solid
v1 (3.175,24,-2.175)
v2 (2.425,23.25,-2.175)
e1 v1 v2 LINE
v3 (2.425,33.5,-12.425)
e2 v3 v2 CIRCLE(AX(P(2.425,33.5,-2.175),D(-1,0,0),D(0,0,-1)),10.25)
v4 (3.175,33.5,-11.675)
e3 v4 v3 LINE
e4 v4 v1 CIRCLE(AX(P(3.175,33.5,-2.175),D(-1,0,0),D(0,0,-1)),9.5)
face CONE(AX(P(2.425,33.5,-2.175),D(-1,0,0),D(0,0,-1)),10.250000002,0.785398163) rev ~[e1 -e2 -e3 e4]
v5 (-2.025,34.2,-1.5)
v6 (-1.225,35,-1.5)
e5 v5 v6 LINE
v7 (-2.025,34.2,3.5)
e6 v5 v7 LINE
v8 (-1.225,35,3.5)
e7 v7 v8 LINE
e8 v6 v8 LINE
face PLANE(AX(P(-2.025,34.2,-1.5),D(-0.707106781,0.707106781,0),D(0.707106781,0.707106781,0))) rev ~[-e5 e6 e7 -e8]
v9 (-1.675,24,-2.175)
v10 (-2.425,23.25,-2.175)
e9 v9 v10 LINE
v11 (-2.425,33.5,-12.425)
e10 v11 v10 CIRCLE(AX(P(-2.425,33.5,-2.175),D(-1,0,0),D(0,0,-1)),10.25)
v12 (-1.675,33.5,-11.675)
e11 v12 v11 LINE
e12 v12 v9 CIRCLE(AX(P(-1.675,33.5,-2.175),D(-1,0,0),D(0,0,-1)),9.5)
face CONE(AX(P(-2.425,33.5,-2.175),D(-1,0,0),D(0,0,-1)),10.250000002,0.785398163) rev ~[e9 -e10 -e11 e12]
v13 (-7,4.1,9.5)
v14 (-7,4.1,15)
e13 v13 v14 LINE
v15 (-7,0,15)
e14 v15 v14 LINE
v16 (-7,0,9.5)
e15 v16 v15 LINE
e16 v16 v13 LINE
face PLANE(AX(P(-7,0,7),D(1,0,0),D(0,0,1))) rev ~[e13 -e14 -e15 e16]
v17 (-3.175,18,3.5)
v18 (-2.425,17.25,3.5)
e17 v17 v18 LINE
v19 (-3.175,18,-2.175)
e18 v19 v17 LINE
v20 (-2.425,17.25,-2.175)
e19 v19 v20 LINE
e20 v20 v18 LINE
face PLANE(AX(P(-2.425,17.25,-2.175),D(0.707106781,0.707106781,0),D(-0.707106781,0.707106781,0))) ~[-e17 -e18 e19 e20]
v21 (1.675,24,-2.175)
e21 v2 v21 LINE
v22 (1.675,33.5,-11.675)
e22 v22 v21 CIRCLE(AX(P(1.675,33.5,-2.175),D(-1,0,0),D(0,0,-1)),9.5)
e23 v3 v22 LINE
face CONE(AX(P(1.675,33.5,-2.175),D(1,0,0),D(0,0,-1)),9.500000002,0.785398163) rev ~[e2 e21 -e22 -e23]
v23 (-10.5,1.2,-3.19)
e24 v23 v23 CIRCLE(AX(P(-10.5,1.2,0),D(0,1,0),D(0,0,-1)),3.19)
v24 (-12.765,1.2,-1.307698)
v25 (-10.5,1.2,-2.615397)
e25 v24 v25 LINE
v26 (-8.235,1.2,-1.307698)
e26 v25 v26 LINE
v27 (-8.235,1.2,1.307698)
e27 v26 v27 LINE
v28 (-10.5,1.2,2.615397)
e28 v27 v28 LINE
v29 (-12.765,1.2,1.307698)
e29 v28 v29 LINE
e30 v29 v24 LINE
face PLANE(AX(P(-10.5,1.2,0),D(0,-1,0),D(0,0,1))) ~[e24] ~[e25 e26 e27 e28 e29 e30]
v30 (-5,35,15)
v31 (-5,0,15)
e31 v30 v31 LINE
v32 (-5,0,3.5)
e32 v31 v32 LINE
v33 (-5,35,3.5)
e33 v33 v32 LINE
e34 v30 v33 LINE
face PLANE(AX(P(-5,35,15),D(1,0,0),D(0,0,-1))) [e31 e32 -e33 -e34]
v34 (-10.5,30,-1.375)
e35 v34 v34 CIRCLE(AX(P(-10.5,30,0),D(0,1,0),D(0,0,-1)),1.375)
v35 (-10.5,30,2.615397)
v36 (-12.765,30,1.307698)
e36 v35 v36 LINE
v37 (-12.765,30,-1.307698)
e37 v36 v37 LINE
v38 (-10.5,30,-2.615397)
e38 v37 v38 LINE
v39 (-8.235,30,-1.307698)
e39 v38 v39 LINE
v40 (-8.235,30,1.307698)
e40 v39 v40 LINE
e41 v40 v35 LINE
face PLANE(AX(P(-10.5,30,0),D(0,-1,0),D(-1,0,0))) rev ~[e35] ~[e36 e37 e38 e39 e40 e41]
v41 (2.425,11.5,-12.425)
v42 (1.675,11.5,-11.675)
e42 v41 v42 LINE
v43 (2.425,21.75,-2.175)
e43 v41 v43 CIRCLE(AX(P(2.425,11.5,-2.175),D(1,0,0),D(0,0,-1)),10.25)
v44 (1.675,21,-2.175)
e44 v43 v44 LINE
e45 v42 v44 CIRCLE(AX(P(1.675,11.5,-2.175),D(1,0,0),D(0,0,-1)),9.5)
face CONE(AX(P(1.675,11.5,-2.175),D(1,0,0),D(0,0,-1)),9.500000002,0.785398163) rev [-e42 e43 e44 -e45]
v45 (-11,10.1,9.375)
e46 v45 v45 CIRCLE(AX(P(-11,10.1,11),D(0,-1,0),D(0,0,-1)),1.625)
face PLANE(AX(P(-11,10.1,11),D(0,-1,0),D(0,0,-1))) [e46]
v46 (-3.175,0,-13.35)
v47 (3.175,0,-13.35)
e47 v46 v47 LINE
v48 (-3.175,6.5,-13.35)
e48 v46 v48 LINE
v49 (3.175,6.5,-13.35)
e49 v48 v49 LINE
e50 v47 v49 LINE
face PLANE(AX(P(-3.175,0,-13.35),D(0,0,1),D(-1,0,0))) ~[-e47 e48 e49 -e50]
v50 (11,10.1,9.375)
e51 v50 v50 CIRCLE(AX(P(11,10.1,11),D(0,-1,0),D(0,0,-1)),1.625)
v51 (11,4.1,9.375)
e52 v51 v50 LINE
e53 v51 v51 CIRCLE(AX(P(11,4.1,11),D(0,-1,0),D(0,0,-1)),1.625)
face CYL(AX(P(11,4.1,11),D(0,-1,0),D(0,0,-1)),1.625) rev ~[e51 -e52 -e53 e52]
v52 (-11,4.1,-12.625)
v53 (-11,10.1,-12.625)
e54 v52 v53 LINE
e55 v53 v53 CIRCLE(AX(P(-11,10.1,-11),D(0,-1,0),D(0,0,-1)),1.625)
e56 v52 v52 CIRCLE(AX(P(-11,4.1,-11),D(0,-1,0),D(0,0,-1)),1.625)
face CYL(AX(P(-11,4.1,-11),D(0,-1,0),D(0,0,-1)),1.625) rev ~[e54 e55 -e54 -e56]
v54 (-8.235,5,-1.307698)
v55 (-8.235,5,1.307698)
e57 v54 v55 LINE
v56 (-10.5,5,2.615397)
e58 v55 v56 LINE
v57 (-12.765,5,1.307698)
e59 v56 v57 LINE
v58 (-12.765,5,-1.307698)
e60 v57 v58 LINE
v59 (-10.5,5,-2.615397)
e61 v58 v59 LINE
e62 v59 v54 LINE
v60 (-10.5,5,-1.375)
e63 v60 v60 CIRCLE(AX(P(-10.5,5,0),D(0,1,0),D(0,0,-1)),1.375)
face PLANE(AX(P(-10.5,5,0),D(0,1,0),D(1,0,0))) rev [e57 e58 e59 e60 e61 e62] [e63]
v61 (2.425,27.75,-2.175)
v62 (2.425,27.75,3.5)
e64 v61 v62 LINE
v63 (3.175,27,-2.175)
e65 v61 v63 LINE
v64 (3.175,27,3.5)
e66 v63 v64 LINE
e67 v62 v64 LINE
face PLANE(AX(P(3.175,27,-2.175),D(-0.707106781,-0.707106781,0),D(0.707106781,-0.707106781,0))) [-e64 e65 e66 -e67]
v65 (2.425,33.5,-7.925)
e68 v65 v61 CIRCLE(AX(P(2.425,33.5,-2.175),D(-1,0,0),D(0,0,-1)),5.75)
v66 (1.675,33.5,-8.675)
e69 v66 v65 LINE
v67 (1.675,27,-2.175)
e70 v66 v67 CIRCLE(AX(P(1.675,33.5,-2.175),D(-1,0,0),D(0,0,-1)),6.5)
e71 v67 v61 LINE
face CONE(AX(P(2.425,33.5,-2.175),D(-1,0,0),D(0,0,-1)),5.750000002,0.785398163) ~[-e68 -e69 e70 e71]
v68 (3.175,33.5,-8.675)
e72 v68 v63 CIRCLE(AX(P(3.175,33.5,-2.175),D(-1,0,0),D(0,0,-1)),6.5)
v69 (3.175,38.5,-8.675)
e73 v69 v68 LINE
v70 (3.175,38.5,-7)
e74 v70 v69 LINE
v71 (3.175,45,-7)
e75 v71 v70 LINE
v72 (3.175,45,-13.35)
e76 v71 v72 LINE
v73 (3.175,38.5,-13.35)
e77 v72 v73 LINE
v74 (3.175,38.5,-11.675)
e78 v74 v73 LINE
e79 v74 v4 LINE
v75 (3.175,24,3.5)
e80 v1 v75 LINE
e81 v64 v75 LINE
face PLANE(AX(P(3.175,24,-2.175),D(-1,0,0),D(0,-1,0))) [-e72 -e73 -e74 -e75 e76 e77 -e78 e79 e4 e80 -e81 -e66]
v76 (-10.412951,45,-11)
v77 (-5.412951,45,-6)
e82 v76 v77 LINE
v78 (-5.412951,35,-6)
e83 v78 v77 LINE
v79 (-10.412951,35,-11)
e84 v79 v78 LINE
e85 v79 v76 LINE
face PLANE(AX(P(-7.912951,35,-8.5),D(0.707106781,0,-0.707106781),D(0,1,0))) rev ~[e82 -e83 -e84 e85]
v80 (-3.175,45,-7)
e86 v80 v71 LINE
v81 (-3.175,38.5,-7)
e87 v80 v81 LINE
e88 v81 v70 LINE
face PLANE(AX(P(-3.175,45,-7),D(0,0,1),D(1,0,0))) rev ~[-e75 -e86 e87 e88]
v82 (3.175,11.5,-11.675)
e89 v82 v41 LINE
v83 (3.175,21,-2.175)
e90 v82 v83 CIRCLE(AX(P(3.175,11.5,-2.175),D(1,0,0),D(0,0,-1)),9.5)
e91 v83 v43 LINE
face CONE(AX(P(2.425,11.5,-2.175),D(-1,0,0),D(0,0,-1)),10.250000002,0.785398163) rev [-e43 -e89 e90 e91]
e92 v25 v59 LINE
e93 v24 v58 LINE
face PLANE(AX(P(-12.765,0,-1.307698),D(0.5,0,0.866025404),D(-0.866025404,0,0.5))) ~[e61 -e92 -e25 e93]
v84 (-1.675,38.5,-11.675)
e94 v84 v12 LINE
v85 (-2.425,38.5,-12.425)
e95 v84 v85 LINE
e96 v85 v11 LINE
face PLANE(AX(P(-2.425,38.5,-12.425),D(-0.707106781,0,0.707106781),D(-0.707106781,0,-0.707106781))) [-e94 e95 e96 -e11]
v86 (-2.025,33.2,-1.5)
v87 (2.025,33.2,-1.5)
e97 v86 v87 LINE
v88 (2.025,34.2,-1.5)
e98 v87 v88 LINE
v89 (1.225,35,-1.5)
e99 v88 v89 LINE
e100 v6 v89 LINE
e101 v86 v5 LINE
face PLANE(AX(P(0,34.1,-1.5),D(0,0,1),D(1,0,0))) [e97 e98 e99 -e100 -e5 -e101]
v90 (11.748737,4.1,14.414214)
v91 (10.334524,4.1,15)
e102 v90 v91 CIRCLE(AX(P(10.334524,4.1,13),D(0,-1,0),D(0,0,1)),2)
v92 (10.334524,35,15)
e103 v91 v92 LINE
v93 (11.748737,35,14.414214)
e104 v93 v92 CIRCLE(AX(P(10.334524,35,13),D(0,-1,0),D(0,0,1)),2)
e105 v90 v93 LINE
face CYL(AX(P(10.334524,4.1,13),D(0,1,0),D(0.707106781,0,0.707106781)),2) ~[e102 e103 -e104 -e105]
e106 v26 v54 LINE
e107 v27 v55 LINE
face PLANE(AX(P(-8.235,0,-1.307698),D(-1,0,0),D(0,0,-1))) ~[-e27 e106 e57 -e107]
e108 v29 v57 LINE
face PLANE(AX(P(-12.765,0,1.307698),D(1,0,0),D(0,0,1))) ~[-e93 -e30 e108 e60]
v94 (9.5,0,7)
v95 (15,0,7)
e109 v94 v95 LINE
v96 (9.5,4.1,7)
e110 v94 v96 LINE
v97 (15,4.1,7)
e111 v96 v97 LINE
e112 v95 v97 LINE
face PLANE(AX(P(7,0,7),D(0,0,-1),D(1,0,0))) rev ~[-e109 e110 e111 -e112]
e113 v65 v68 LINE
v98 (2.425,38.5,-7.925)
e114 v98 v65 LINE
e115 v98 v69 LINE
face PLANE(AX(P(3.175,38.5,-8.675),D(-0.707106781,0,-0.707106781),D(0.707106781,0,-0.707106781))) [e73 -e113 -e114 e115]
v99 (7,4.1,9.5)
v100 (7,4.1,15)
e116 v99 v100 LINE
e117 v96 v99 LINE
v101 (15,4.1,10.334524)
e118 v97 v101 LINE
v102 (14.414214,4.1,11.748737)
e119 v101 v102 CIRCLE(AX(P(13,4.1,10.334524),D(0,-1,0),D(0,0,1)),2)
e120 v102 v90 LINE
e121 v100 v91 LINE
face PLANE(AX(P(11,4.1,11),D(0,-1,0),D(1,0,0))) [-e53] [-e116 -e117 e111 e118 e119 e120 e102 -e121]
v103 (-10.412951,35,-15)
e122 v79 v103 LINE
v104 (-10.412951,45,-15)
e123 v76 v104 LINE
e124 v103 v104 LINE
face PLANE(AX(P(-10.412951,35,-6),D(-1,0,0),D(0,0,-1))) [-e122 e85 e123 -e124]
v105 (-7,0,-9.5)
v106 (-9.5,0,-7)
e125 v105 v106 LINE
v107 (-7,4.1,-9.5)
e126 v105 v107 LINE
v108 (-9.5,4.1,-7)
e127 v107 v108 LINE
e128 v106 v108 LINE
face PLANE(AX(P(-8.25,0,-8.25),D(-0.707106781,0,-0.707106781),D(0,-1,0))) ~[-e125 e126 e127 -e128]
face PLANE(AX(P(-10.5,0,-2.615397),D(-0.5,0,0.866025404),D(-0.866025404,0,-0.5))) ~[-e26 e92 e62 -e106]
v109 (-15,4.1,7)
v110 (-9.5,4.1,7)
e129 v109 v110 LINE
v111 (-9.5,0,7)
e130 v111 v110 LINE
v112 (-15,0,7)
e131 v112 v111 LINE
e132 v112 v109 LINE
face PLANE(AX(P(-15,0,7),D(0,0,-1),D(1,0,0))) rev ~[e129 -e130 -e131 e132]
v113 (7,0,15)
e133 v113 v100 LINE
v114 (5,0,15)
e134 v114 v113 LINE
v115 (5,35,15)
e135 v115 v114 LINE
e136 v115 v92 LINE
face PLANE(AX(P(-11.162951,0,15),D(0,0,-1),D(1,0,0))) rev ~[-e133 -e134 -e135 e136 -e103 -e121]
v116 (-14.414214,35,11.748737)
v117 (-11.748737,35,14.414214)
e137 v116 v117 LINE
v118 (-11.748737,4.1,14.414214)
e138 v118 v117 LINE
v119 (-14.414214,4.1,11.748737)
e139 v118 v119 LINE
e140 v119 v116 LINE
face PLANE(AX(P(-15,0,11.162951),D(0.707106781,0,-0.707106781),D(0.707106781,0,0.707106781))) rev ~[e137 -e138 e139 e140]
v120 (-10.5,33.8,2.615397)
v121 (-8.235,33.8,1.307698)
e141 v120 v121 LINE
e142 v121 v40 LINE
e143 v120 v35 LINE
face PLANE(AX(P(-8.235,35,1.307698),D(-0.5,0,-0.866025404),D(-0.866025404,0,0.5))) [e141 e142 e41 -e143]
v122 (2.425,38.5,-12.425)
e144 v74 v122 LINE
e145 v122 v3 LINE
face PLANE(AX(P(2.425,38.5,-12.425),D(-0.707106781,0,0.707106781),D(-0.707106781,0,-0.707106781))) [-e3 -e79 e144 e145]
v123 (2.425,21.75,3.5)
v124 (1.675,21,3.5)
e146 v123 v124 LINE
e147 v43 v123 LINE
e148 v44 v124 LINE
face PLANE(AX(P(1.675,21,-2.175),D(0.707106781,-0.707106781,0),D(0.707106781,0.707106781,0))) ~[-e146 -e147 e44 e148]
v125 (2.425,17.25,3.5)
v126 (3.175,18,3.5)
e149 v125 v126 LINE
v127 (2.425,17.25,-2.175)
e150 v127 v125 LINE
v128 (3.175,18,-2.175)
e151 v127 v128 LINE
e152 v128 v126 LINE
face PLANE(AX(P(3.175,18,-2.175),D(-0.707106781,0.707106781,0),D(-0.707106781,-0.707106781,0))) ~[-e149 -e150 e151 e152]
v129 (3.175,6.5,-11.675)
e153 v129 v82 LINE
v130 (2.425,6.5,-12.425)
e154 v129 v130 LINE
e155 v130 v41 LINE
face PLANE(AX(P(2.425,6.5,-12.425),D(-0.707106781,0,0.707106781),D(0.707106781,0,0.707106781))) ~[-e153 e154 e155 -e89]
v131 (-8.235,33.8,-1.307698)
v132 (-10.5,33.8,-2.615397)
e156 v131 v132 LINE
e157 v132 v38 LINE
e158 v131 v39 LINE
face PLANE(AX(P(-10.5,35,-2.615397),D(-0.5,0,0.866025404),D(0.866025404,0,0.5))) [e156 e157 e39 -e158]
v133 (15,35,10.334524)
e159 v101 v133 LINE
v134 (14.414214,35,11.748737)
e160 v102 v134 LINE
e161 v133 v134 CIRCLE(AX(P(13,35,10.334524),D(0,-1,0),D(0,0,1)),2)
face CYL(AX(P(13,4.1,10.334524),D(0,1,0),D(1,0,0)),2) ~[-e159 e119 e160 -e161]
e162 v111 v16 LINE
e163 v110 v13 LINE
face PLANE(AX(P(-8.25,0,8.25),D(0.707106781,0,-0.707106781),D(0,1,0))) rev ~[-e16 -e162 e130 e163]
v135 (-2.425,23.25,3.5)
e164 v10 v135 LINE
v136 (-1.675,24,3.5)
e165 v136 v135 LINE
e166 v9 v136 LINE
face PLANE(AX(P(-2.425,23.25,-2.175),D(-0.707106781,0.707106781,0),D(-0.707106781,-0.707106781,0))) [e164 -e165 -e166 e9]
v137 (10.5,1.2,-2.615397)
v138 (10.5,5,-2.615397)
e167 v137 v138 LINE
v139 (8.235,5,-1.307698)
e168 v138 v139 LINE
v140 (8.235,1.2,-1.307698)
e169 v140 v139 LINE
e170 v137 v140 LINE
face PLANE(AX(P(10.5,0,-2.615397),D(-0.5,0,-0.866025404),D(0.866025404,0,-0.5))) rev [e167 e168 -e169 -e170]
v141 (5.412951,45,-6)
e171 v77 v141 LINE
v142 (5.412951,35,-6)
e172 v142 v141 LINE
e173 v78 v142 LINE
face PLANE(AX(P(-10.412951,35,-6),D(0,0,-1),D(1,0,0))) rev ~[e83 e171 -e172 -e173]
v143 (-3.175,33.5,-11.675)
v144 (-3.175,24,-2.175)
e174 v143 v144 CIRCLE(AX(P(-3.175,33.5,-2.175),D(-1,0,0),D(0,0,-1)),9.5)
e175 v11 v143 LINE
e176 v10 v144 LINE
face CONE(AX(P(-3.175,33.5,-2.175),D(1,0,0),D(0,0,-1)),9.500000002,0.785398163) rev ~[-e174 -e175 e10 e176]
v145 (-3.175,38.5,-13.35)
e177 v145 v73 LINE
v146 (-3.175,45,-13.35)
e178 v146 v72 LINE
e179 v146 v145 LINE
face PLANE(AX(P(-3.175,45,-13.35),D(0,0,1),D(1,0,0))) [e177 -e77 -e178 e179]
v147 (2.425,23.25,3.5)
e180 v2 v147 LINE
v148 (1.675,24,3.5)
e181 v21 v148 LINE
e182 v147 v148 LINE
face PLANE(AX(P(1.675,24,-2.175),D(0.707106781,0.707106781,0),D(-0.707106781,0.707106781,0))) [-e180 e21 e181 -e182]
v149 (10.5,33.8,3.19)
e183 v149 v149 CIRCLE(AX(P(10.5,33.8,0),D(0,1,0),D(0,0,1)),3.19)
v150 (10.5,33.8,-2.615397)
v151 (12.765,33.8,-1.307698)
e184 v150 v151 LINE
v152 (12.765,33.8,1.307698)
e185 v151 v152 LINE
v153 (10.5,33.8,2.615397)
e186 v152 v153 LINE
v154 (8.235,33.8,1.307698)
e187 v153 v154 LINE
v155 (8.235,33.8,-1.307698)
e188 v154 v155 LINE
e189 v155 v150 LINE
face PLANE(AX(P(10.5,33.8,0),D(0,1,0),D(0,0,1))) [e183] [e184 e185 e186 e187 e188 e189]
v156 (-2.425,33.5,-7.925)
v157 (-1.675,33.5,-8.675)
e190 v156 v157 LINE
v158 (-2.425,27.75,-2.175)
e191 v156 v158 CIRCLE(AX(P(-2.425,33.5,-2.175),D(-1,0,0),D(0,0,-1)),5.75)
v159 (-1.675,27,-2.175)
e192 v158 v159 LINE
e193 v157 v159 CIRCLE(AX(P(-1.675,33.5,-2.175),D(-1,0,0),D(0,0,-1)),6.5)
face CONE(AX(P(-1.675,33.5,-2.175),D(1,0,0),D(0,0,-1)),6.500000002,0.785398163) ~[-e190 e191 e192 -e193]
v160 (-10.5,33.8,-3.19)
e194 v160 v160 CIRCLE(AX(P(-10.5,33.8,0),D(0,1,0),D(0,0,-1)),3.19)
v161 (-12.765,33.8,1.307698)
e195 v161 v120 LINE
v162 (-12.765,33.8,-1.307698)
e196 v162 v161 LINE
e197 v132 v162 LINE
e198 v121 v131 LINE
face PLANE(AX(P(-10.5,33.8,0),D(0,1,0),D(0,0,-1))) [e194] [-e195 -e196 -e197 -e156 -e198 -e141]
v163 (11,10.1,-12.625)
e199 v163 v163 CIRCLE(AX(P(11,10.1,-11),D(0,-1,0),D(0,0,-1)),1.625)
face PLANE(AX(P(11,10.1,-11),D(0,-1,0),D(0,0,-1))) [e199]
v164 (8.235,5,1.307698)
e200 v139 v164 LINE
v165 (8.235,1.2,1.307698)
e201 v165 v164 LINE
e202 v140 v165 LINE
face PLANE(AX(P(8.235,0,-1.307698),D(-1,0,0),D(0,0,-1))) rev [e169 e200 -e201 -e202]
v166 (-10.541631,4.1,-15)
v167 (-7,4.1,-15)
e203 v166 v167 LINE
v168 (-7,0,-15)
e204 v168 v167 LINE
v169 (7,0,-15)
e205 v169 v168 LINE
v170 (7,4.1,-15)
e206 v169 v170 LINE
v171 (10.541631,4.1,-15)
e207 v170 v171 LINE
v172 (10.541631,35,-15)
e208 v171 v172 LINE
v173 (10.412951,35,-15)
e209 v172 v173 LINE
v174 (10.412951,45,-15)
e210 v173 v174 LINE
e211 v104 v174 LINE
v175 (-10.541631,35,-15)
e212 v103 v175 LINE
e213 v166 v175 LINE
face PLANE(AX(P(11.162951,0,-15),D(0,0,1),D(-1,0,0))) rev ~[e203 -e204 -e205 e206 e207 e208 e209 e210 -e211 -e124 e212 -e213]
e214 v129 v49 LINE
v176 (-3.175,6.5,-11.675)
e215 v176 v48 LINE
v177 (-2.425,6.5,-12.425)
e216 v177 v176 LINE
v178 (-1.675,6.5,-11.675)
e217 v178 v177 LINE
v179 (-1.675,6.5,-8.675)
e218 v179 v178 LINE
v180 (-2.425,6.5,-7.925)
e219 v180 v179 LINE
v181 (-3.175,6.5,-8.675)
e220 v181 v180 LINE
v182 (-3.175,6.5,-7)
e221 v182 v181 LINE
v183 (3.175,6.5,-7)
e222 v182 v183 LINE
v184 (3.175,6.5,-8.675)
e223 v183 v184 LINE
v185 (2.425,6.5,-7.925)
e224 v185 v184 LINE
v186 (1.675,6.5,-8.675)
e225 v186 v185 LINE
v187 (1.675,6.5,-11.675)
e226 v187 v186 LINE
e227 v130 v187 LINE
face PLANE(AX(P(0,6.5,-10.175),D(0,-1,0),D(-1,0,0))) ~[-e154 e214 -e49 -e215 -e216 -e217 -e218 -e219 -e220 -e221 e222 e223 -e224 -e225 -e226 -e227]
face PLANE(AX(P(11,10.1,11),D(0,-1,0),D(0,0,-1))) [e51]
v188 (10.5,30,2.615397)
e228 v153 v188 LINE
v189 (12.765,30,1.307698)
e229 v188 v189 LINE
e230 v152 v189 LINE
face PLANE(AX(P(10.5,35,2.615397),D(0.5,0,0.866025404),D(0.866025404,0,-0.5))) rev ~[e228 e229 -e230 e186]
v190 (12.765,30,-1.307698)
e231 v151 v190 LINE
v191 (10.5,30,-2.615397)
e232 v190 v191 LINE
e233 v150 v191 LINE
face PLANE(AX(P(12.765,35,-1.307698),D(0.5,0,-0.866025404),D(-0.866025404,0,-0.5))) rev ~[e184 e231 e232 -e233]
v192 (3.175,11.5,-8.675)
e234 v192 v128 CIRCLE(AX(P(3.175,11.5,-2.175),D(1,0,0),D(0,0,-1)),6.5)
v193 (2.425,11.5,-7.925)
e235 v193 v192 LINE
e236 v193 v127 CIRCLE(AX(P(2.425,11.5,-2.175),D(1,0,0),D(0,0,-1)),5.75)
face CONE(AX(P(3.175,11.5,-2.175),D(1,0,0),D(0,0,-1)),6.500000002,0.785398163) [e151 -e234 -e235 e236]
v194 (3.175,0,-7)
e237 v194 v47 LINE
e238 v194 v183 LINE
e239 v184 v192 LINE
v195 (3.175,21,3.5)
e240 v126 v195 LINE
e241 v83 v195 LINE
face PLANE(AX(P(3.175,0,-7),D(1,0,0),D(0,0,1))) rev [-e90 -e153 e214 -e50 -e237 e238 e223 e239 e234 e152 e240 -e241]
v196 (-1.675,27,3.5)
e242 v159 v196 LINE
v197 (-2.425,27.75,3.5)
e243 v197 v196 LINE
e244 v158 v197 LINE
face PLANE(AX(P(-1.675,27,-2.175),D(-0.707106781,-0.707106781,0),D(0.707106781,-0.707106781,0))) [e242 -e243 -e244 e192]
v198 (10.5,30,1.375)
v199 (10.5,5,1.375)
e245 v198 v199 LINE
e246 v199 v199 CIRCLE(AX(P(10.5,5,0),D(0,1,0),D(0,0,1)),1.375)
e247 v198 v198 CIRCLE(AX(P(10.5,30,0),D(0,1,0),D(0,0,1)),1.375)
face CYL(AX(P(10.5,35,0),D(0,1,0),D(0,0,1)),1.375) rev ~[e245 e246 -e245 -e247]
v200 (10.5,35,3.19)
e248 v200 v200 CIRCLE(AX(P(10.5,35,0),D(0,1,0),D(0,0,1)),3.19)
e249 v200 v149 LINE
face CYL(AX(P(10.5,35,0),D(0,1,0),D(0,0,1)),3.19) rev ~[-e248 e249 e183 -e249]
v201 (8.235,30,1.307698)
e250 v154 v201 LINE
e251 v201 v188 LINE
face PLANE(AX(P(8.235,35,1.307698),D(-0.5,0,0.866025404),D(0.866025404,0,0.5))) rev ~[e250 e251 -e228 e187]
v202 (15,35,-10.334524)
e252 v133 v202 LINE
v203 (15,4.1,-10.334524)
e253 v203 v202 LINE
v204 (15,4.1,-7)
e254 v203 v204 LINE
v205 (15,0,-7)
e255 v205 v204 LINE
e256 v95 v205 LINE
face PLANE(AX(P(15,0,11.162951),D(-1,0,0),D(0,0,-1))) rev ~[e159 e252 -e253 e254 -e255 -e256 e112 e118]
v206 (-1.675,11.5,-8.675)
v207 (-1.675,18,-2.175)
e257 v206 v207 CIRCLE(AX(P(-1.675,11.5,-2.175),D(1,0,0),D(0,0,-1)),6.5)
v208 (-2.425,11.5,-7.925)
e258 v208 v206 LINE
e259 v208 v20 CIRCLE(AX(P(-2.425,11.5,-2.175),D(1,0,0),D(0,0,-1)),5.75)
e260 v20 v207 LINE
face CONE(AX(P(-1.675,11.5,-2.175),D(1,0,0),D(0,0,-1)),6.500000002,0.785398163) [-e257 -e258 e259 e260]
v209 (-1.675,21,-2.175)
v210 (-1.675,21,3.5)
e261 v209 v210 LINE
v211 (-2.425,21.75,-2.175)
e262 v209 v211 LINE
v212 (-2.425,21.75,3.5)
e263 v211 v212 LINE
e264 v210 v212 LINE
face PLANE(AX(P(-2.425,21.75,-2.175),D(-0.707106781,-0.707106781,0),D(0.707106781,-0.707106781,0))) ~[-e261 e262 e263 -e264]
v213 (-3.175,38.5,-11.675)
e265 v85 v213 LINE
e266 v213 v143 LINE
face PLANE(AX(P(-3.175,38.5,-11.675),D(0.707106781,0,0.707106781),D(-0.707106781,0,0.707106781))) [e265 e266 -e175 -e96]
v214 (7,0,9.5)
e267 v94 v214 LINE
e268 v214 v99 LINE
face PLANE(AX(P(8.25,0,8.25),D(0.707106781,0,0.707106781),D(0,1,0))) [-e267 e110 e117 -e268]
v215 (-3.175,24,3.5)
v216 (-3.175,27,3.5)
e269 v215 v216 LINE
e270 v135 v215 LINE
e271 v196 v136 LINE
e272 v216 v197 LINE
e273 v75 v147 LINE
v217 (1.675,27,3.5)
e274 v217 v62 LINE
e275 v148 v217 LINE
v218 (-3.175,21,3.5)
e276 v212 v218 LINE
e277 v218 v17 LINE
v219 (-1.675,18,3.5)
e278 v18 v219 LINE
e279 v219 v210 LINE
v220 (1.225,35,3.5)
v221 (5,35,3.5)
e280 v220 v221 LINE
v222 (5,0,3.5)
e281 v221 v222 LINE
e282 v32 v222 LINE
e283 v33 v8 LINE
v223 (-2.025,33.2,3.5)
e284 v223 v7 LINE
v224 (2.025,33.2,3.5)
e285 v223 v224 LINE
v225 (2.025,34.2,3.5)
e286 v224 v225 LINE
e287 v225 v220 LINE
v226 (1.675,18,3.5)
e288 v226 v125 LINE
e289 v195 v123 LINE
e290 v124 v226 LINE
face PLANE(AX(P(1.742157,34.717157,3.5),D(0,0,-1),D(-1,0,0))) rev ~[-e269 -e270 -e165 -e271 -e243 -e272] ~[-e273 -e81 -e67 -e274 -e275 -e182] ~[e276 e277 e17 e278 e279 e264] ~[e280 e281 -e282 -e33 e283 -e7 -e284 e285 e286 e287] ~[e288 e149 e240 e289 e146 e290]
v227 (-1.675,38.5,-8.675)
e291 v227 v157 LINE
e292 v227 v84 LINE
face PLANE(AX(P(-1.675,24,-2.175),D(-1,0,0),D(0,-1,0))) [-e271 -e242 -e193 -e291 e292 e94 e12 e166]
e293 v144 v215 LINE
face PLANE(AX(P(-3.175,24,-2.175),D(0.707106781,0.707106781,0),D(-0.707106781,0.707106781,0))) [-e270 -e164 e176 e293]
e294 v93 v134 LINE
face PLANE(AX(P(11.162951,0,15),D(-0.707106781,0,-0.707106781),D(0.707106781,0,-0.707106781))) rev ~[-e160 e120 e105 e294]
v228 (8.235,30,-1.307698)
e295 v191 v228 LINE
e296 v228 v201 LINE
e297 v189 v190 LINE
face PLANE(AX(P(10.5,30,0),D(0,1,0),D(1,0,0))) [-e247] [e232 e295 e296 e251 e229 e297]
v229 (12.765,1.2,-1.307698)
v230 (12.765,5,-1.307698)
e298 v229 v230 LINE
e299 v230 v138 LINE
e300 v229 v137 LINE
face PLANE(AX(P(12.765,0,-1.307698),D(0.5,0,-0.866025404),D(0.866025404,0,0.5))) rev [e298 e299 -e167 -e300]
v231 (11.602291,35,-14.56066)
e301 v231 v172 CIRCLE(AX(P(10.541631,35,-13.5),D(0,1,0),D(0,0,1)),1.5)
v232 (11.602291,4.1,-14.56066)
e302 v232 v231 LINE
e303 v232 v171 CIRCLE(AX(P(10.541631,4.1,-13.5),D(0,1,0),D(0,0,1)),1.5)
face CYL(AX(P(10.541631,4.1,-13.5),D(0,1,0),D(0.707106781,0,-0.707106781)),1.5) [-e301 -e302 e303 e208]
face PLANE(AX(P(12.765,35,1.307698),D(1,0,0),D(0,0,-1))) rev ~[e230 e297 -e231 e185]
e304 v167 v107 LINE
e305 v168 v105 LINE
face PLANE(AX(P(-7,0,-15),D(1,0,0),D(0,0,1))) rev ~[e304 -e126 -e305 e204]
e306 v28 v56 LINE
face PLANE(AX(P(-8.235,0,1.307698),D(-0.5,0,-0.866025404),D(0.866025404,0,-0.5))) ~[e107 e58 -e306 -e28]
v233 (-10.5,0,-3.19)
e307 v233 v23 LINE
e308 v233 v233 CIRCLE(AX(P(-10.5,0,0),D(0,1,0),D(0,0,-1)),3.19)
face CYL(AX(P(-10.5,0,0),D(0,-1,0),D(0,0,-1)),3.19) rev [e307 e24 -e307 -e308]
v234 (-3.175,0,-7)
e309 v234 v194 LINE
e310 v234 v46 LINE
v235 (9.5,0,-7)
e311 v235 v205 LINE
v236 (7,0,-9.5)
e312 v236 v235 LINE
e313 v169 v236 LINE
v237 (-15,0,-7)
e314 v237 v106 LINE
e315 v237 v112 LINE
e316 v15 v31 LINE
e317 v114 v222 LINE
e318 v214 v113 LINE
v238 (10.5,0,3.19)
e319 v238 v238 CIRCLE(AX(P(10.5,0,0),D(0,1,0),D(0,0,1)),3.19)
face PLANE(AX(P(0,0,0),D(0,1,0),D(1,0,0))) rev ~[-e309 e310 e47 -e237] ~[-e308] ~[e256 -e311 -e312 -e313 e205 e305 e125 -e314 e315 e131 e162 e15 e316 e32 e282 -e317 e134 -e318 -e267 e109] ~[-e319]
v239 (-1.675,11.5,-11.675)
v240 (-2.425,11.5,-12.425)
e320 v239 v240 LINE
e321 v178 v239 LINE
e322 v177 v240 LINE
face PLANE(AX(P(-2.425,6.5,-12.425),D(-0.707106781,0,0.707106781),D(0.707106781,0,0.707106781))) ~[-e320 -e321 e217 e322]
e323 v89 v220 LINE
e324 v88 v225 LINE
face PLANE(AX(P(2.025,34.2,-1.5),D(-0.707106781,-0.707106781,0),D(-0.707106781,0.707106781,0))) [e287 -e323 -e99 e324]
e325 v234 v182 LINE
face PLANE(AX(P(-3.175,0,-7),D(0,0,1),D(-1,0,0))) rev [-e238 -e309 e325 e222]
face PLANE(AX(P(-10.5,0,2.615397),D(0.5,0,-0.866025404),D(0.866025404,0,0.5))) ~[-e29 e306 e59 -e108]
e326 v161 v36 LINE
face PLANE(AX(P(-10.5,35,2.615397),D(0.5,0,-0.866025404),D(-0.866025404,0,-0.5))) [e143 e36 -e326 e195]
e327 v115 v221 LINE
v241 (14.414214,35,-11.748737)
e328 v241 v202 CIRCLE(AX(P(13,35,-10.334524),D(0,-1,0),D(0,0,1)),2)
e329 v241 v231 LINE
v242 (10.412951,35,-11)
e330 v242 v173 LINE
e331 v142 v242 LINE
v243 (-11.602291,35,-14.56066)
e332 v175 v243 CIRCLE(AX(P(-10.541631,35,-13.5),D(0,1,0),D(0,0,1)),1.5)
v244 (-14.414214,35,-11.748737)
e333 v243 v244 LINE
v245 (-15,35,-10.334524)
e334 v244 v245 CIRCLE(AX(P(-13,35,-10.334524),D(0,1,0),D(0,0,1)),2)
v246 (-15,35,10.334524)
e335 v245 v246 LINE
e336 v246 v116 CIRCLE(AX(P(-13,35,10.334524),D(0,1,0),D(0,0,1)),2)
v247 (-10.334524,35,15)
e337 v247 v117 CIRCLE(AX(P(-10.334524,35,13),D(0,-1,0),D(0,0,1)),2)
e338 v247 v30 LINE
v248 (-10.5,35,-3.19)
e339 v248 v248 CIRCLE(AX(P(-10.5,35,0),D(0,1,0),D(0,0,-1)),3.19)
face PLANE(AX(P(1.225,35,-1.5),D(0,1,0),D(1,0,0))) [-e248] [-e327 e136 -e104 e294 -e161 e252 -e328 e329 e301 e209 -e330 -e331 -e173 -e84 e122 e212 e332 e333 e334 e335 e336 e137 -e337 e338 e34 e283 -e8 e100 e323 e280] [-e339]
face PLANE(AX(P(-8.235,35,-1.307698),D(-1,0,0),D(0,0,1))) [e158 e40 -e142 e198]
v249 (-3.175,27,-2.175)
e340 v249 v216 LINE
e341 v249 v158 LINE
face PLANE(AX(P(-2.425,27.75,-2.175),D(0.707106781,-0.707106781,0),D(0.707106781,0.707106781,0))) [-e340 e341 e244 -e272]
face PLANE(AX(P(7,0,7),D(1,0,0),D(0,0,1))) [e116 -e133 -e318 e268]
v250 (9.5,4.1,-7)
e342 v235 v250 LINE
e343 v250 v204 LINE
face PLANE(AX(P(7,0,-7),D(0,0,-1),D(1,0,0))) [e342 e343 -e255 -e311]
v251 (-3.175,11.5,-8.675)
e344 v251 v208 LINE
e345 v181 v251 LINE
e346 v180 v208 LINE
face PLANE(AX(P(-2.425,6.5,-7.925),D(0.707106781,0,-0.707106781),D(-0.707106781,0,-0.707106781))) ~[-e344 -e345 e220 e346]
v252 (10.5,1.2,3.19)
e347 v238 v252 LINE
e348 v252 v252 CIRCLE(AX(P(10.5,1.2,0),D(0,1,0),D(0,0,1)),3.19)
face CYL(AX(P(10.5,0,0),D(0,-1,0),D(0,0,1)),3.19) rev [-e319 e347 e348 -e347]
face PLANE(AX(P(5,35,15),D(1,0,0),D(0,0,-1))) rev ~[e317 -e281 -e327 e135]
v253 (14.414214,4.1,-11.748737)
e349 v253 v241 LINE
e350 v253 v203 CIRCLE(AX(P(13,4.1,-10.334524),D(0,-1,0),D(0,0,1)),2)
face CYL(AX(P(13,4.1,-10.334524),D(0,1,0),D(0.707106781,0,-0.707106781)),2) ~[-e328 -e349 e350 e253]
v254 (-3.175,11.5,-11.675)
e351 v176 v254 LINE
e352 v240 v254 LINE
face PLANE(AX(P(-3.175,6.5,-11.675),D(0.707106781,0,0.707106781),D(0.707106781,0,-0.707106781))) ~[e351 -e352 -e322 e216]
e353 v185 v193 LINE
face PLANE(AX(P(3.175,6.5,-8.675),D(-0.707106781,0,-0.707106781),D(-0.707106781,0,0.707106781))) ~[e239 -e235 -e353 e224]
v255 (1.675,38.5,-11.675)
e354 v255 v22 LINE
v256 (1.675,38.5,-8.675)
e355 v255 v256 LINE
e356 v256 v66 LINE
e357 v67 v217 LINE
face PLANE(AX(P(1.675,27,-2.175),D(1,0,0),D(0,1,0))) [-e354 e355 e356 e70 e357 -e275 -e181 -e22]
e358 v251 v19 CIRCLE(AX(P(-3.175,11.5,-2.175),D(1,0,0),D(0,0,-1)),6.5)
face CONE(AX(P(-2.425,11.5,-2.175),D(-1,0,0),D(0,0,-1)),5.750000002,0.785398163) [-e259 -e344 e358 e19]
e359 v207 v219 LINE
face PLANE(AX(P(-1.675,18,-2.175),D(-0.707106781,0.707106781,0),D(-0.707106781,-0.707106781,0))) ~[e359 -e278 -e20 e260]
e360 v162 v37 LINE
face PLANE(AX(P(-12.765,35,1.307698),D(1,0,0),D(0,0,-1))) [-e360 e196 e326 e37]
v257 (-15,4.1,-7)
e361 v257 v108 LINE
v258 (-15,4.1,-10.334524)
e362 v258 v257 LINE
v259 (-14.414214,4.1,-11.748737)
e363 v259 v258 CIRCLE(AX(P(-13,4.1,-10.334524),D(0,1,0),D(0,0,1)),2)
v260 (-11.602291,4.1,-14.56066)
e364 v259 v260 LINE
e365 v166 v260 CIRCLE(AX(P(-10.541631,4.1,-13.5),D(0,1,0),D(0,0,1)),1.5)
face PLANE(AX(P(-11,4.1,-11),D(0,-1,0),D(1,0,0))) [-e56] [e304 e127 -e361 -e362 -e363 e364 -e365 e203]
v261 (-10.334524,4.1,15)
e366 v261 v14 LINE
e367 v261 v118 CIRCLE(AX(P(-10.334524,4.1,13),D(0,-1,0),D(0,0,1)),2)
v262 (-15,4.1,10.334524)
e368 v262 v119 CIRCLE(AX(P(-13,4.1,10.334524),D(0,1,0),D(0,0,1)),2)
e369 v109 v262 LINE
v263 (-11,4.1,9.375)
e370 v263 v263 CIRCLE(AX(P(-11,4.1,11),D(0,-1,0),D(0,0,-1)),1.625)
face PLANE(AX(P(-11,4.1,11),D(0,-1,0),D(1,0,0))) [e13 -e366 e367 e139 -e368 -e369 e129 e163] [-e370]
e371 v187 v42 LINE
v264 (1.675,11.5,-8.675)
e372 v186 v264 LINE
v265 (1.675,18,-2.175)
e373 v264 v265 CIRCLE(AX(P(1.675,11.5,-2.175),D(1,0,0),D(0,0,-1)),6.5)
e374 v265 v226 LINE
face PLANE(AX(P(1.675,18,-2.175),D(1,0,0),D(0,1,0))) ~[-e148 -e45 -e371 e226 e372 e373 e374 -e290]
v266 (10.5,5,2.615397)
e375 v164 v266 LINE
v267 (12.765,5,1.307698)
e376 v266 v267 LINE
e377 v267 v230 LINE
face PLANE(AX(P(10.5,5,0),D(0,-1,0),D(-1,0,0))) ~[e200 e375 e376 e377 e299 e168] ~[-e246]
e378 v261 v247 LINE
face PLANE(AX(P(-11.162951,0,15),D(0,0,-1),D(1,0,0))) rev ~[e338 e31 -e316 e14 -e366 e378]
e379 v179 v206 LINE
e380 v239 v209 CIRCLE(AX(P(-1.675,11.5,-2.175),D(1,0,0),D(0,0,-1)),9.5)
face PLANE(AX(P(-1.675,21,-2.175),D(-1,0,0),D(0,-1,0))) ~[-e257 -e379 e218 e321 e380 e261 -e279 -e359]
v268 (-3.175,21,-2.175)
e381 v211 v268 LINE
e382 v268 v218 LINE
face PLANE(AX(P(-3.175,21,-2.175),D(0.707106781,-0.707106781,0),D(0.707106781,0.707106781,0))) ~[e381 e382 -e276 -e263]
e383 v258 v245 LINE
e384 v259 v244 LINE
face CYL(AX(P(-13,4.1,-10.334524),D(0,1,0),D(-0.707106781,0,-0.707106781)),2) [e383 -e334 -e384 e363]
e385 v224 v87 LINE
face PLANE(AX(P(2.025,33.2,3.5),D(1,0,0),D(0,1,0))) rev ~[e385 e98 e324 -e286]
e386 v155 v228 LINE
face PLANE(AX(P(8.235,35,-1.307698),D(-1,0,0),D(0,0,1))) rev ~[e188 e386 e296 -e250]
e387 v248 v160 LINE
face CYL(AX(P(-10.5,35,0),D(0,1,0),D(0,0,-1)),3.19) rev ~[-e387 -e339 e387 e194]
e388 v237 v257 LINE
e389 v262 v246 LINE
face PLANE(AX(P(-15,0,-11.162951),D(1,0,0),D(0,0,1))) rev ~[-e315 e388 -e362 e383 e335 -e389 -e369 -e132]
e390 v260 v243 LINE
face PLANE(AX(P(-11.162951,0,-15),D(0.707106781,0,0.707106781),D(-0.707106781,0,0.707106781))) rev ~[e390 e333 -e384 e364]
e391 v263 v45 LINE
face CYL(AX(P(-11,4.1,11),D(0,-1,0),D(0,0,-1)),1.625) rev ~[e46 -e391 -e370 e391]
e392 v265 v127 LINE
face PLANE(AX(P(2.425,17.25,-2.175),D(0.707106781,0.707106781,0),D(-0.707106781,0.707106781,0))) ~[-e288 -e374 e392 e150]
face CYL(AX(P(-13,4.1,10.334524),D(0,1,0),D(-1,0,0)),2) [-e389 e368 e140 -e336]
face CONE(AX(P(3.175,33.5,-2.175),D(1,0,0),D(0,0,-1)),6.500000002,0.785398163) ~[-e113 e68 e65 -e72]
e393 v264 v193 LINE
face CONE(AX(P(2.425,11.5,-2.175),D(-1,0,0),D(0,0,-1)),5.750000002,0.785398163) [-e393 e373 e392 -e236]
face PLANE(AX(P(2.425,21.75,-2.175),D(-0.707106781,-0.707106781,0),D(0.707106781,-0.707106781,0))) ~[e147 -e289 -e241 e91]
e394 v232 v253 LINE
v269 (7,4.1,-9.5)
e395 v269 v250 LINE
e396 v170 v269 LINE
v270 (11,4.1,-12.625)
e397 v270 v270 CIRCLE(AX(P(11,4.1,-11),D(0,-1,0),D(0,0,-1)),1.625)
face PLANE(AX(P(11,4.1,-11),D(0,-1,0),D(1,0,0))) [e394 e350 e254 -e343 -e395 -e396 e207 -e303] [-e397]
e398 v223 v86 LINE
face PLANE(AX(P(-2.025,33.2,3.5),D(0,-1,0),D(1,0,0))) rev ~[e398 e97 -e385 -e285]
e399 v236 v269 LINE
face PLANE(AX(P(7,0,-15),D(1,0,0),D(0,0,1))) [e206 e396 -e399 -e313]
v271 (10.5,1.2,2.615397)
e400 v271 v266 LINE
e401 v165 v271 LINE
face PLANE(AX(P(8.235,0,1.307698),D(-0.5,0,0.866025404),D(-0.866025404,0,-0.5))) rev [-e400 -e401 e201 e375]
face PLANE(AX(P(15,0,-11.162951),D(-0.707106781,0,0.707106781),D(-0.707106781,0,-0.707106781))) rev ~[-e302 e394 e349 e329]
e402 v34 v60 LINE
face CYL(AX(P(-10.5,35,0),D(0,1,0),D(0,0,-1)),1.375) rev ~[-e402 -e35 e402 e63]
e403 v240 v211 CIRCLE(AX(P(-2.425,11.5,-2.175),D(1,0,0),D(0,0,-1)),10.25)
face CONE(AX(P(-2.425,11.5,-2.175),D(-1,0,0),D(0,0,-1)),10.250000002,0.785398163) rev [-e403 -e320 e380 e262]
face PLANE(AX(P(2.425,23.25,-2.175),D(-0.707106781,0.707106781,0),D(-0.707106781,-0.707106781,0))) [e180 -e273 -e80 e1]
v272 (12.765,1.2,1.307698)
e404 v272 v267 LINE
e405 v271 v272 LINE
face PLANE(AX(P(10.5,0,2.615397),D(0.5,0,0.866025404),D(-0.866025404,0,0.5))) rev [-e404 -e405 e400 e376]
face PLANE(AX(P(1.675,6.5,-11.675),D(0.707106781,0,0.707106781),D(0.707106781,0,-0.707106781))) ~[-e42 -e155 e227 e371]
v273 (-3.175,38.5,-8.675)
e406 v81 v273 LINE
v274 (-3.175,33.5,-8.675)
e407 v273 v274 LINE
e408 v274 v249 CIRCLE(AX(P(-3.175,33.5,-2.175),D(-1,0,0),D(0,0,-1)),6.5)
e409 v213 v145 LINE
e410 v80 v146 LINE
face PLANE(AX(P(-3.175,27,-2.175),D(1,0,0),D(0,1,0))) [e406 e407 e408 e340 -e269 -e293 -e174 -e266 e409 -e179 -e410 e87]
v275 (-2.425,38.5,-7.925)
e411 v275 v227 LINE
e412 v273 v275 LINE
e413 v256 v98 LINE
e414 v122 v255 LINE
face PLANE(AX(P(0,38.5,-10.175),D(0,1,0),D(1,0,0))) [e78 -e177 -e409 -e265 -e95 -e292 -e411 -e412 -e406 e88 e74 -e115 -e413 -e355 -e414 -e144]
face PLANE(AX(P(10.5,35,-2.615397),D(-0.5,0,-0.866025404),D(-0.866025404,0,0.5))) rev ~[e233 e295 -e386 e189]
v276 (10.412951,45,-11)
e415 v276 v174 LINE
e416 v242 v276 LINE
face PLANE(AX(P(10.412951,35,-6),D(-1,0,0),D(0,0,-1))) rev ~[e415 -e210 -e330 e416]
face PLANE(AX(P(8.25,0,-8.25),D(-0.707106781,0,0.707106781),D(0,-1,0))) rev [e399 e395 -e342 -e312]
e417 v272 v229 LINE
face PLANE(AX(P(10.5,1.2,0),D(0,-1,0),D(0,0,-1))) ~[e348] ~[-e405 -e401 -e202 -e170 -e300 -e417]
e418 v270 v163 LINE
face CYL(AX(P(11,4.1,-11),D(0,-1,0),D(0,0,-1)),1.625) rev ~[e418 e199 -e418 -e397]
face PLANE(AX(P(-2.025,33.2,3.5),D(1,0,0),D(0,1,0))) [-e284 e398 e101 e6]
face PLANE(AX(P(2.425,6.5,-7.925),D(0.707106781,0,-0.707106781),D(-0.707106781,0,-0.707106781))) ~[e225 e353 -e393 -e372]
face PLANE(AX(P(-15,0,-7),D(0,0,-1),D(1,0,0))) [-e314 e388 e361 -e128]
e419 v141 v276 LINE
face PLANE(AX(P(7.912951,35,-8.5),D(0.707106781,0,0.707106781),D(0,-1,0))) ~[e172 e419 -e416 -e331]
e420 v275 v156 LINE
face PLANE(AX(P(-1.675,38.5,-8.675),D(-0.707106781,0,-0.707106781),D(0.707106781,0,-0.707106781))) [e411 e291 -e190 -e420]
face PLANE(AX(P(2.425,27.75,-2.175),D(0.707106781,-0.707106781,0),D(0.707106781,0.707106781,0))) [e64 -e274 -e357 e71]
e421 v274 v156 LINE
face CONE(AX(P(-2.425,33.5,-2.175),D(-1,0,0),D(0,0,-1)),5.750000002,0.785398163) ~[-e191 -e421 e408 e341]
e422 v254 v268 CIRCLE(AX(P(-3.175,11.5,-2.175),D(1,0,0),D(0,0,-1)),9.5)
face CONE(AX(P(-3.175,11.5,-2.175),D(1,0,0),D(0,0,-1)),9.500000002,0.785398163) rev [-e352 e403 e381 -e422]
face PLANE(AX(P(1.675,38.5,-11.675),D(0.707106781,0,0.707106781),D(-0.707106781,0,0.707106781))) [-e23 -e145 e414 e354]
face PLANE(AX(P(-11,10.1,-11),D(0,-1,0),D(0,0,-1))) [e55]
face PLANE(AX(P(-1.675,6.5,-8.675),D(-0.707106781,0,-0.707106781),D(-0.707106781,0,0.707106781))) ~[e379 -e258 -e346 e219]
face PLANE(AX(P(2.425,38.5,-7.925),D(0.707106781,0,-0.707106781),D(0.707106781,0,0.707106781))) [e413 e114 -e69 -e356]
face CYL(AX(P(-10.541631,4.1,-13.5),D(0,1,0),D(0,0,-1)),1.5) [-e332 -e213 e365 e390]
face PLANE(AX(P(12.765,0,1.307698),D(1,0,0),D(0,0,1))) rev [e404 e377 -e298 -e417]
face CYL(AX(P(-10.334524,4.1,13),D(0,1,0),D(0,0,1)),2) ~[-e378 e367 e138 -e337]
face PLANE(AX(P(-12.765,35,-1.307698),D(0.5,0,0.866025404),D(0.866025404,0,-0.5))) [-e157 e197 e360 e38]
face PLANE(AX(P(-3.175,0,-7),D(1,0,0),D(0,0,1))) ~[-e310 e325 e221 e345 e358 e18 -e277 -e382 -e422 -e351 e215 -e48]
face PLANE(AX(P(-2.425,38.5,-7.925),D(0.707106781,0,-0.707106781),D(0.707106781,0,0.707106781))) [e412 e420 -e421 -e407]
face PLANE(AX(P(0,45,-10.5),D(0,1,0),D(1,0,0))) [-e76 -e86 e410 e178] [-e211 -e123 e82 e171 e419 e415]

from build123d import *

# Parameters (mm, degrees)
EXTRUDE_1_DEPTH     = 35
SKETCH_4_R          = 1.375
CUT_EXTRUDE_1_DEPTH = 41.926763859
SKETCH_5_W          = 10
SKETCH_5_H          = 11.5
CUT_EXTRUDE_2_DEPTH = 41.926763859
SKETCH_6_W          = 20.825901808
SKETCH_6_H          = 9
EXTRUDE_2_DEPTH     = 10
SKETCH_7_W          = 6.35
SKETCH_7_H          = 6.35
CUT_EXTRUDE_3_DEPTH = 6.5
CUT_EXTRUDE_4_DEPTH = 5
SKETCH_12_R         = 3.19
CUT_EXTRUDE_5_DEPTH = 1.2
SKETCH_13_W         = 4.05
SKETCH_13_H         = 1.8
CUT_EXTRUDE_6_DEPTH = 5
EXTRUDE_3_DEPTH     = 5
CHAMFER_1_SIZE      = 5
SKETCH_18_W         = 8
SKETCH_18_H         = 8
CUT_EXTRUDE_7_DEPTH = 4.1
CHAMFER_2_SIZE      = 2.5
SKETCH_19_R         = 1.625
CUT_EXTRUDE_8_DEPTH = 6
FILLET_1_R          = 2
FILLET_2_R          = 1.5


with BuildPart() as part:
    # 草图3 → 凸台-拉伸1 (new body)
    with BuildSketch(Plane(origin=(0, 0, 0), x_dir=(1, 0, 0), z_dir=(0, 1, 0))):
        Polygon((11.162950904, -15), (15, -11.162950904), (15, 11.162950904), (11.162950904, 15), (-11.162950904, 15), (-15, 11.162950904), (-15, -11.162950904), (-11.162950904, -15), align=None)
    extrude(amount=EXTRUDE_1_DEPTH)

    # 草图4 → 切除-拉伸1 (cut, through all)
    with BuildSketch(Plane(origin=(0, 35, 0), x_dir=(1, 0, 0), z_dir=(0, 1, 0))):
        with Locations(Location((10.5, 0, 0), (0, 0, 270))):
            Circle(SKETCH_4_R)
        with Locations(Location((-10.5, 0, 0), (0, 0, 90))):
            Circle(SKETCH_4_R)
    extrude(amount=-CUT_EXTRUDE_1_DEPTH, mode=Mode.SUBTRACT)

    # 草图5 → 切除-拉伸2 (cut, through all)
    with BuildSketch(Plane(origin=(0, 35, 0), x_dir=(1, 0, 0), z_dir=(0, 1, 0))):
        with Locations((0, -9.25)):
            Rectangle(SKETCH_5_W, SKETCH_5_H)
    extrude(amount=-CUT_EXTRUDE_2_DEPTH, mode=Mode.SUBTRACT)

    # 草图6 → 凸台-拉伸2 (add)
    with BuildSketch(Plane(origin=(0, 35, 0), x_dir=(1, 0, 0), z_dir=(0, 1, 0))):
        with Locations((0, 10.5)):
            Rectangle(SKETCH_6_W, SKETCH_6_H)
    extrude(amount=EXTRUDE_2_DEPTH)

    # 草图7 → 切除-拉伸3 (cut)
    with BuildSketch(Plane(origin=(0, 45, 0), x_dir=(1, 0, 0), z_dir=(0, 1, 0))):
        with Locations((0, 10.175)):
            Rectangle(SKETCH_7_W, SKETCH_7_H)
    cut_extrude_3 = extrude(amount=-CUT_EXTRUDE_3_DEPTH, mode=Mode.SUBTRACT)

    # 切除-扫描1: sweep along a path in 草图9
    with BuildLine(Plane(origin=(0, 0, 0), x_dir=(0, 0, -1), z_dir=(1, 0, 0))) as sweep_1_path:
        Line((10.175, 38.5), (10.175, 33.5))
        ThreePointArc((10.175, 33.5), (7.831854249, 27.843145751), (2.175, 25.5))
        Line((2.175, 25.5), (-3.5, 25.5))
    # 草图8 → 切除-扫描1 (sweep, cut)
    with BuildSketch(Plane(origin=(0, 38.5, 0), x_dir=(1, 0, 0), z_dir=(0, 1, 0))):
        Polygon((1.675, 8.675), (1.675, 11.675), (2.425, 12.425), (3.175, 11.675), (3.175, 8.675), (2.425, 7.925), align=None)
        Polygon((-1.675, 8.675), (-2.425, 7.925), (-3.175, 8.675), (-3.175, 11.675), (-2.425, 12.425), (-1.675, 11.675), align=None)
    sweep_1 = sweep(path=sweep_1_path.line, mode=Mode.SUBTRACT)

    # 镜向1: 切除-拉伸3, 切除-扫描1 across plane
    add(cut_extrude_3.mirror(Plane.ZX.offset(22.5)), mode=Mode.SUBTRACT)
    add(sweep_1.mirror(Plane.ZX.offset(22.5)), mode=Mode.SUBTRACT)

    # 草图11 → 切除-拉伸4 (cut)
    with BuildSketch(Plane(origin=(0, 35, 0), x_dir=(1, 0, 0), z_dir=(0, 1, 0))):
        Polygon((10.5, 2.615396719), (8.235, 1.30769836), (8.235, -1.30769836), (10.5, -2.615396719), (12.765, -1.30769836), (12.765, 1.30769836), align=None)
        Polygon((-10.5, -2.615396719), (-12.765, -1.30769836), (-12.765, 1.30769836), (-10.5, 2.615396719), (-8.235, 1.30769836), (-8.235, -1.30769836), align=None)
    cut_extrude_4 = extrude(amount=-CUT_EXTRUDE_4_DEPTH, mode=Mode.SUBTRACT)

    # 草图12 → 切除-拉伸5 (cut)
    with BuildSketch(Plane(origin=(0, 35, 0), x_dir=(1, 0, 0), z_dir=(0, 1, 0))):
        with Locations(Location((10.5, 0, 0), (0, 0, 270))):
            Circle(SKETCH_12_R)
        with Locations(Location((-10.5, 0, 0), (0, 0, 90))):
            Circle(SKETCH_12_R)
    cut_extrude_5 = extrude(amount=-CUT_EXTRUDE_5_DEPTH, mode=Mode.SUBTRACT)

    # 草图13 → 切除-拉伸6 (cut)
    with BuildSketch(Plane.XY.offset(3.5)):
        with Locations((0, 34.1)):
            Rectangle(SKETCH_13_W, SKETCH_13_H)
    extrude(amount=-CUT_EXTRUDE_6_DEPTH, mode=Mode.SUBTRACT)

    # 草图14 → 凸台-拉伸3 (add)
    with BuildSketch(Plane.XY.offset(-1.5)):
        Polygon((1.225, 35), (2.025, 35), (2.025, 34.2), align=None)
        Polygon((-2.025, 34.2), (-1.225, 35), (-2.025, 35), align=None)
    extrude(amount=EXTRUDE_3_DEPTH)

    # 倒角1
    chamfer_1_edges = [part.edges().sort_by_distance(p)[0] for p in [
        (10.412950904, 40, -6),
        (-10.412950904, 40, -6),
    ]]
    chamfer(chamfer_1_edges, length=CHAMFER_1_SIZE)

    # 草图18 → 切除-拉伸7 (cut)
    with BuildSketch(Plane.XZ):
        with Locations((11, -11)):
            Rectangle(SKETCH_18_W, SKETCH_18_H)
        with Locations((-11, -11)):
            Rectangle(SKETCH_18_W, SKETCH_18_H)
        with Locations((-11, 11)):
            Rectangle(SKETCH_18_W, SKETCH_18_H)
        with Locations((11, 11)):
            Rectangle(SKETCH_18_W, SKETCH_18_H)
    extrude(amount=-CUT_EXTRUDE_7_DEPTH, mode=Mode.SUBTRACT)

    # 倒角2
    chamfer_2_edges = [part.edges().sort_by_distance(p)[0] for p in [
        (7, 2.05, 7),
        (-7, 2.05, 7),
        (-7, 2.05, -7),
        (7, 2.05, -7),
    ]]
    chamfer(chamfer_2_edges, length=CHAMFER_2_SIZE)

    # 镜向2: 切除-拉伸4, 切除-拉伸5 across plane
    add(cut_extrude_4.mirror(Plane.ZX.offset(17.5)), mode=Mode.SUBTRACT)
    add(cut_extrude_5.mirror(Plane.ZX.offset(17.5)), mode=Mode.SUBTRACT)

    # 草图19 → 切除-拉伸8 (cut)
    with BuildSketch(Plane.XZ.offset(-4.1)):
        with Locations(Location((11, -11, 0), (0, 0, 270))):
            Circle(SKETCH_19_R)
        with Locations(Location((-11, -11, 0), (0, 0, 270))):
            Circle(SKETCH_19_R)
        with Locations(Location((-11, 11, 0), (0, 0, 270))):
            Circle(SKETCH_19_R)
        with Locations(Location((11, 11, 0), (0, 0, 270))):
            Circle(SKETCH_19_R)
    extrude(amount=-CUT_EXTRUDE_8_DEPTH, mode=Mode.SUBTRACT)

    # 圆角1
    fillet_1_edges = [part.edges().sort_by_distance(p)[0] for p in [
        (-11.162950904, 19.55, 15),
        (-15, 19.55, 11.162950904),
        (-15, 19.55, -11.162950904),
        (15, 19.55, -11.162950904),
        (15, 19.55, 11.162950904),
        (11.162950904, 19.55, 15),
    ]]
    fillet(fillet_1_edges, radius=FILLET_1_R)

    # 圆角2
    fillet_2_edges = [part.edges().sort_by_distance(p)[0] for p in [
        (-11.162950904, 19.55, -15),
        (11.162950904, 19.55, -15),
    ]]
    fillet(fillet_2_edges, radius=FILLET_2_R)


solid = part.part
